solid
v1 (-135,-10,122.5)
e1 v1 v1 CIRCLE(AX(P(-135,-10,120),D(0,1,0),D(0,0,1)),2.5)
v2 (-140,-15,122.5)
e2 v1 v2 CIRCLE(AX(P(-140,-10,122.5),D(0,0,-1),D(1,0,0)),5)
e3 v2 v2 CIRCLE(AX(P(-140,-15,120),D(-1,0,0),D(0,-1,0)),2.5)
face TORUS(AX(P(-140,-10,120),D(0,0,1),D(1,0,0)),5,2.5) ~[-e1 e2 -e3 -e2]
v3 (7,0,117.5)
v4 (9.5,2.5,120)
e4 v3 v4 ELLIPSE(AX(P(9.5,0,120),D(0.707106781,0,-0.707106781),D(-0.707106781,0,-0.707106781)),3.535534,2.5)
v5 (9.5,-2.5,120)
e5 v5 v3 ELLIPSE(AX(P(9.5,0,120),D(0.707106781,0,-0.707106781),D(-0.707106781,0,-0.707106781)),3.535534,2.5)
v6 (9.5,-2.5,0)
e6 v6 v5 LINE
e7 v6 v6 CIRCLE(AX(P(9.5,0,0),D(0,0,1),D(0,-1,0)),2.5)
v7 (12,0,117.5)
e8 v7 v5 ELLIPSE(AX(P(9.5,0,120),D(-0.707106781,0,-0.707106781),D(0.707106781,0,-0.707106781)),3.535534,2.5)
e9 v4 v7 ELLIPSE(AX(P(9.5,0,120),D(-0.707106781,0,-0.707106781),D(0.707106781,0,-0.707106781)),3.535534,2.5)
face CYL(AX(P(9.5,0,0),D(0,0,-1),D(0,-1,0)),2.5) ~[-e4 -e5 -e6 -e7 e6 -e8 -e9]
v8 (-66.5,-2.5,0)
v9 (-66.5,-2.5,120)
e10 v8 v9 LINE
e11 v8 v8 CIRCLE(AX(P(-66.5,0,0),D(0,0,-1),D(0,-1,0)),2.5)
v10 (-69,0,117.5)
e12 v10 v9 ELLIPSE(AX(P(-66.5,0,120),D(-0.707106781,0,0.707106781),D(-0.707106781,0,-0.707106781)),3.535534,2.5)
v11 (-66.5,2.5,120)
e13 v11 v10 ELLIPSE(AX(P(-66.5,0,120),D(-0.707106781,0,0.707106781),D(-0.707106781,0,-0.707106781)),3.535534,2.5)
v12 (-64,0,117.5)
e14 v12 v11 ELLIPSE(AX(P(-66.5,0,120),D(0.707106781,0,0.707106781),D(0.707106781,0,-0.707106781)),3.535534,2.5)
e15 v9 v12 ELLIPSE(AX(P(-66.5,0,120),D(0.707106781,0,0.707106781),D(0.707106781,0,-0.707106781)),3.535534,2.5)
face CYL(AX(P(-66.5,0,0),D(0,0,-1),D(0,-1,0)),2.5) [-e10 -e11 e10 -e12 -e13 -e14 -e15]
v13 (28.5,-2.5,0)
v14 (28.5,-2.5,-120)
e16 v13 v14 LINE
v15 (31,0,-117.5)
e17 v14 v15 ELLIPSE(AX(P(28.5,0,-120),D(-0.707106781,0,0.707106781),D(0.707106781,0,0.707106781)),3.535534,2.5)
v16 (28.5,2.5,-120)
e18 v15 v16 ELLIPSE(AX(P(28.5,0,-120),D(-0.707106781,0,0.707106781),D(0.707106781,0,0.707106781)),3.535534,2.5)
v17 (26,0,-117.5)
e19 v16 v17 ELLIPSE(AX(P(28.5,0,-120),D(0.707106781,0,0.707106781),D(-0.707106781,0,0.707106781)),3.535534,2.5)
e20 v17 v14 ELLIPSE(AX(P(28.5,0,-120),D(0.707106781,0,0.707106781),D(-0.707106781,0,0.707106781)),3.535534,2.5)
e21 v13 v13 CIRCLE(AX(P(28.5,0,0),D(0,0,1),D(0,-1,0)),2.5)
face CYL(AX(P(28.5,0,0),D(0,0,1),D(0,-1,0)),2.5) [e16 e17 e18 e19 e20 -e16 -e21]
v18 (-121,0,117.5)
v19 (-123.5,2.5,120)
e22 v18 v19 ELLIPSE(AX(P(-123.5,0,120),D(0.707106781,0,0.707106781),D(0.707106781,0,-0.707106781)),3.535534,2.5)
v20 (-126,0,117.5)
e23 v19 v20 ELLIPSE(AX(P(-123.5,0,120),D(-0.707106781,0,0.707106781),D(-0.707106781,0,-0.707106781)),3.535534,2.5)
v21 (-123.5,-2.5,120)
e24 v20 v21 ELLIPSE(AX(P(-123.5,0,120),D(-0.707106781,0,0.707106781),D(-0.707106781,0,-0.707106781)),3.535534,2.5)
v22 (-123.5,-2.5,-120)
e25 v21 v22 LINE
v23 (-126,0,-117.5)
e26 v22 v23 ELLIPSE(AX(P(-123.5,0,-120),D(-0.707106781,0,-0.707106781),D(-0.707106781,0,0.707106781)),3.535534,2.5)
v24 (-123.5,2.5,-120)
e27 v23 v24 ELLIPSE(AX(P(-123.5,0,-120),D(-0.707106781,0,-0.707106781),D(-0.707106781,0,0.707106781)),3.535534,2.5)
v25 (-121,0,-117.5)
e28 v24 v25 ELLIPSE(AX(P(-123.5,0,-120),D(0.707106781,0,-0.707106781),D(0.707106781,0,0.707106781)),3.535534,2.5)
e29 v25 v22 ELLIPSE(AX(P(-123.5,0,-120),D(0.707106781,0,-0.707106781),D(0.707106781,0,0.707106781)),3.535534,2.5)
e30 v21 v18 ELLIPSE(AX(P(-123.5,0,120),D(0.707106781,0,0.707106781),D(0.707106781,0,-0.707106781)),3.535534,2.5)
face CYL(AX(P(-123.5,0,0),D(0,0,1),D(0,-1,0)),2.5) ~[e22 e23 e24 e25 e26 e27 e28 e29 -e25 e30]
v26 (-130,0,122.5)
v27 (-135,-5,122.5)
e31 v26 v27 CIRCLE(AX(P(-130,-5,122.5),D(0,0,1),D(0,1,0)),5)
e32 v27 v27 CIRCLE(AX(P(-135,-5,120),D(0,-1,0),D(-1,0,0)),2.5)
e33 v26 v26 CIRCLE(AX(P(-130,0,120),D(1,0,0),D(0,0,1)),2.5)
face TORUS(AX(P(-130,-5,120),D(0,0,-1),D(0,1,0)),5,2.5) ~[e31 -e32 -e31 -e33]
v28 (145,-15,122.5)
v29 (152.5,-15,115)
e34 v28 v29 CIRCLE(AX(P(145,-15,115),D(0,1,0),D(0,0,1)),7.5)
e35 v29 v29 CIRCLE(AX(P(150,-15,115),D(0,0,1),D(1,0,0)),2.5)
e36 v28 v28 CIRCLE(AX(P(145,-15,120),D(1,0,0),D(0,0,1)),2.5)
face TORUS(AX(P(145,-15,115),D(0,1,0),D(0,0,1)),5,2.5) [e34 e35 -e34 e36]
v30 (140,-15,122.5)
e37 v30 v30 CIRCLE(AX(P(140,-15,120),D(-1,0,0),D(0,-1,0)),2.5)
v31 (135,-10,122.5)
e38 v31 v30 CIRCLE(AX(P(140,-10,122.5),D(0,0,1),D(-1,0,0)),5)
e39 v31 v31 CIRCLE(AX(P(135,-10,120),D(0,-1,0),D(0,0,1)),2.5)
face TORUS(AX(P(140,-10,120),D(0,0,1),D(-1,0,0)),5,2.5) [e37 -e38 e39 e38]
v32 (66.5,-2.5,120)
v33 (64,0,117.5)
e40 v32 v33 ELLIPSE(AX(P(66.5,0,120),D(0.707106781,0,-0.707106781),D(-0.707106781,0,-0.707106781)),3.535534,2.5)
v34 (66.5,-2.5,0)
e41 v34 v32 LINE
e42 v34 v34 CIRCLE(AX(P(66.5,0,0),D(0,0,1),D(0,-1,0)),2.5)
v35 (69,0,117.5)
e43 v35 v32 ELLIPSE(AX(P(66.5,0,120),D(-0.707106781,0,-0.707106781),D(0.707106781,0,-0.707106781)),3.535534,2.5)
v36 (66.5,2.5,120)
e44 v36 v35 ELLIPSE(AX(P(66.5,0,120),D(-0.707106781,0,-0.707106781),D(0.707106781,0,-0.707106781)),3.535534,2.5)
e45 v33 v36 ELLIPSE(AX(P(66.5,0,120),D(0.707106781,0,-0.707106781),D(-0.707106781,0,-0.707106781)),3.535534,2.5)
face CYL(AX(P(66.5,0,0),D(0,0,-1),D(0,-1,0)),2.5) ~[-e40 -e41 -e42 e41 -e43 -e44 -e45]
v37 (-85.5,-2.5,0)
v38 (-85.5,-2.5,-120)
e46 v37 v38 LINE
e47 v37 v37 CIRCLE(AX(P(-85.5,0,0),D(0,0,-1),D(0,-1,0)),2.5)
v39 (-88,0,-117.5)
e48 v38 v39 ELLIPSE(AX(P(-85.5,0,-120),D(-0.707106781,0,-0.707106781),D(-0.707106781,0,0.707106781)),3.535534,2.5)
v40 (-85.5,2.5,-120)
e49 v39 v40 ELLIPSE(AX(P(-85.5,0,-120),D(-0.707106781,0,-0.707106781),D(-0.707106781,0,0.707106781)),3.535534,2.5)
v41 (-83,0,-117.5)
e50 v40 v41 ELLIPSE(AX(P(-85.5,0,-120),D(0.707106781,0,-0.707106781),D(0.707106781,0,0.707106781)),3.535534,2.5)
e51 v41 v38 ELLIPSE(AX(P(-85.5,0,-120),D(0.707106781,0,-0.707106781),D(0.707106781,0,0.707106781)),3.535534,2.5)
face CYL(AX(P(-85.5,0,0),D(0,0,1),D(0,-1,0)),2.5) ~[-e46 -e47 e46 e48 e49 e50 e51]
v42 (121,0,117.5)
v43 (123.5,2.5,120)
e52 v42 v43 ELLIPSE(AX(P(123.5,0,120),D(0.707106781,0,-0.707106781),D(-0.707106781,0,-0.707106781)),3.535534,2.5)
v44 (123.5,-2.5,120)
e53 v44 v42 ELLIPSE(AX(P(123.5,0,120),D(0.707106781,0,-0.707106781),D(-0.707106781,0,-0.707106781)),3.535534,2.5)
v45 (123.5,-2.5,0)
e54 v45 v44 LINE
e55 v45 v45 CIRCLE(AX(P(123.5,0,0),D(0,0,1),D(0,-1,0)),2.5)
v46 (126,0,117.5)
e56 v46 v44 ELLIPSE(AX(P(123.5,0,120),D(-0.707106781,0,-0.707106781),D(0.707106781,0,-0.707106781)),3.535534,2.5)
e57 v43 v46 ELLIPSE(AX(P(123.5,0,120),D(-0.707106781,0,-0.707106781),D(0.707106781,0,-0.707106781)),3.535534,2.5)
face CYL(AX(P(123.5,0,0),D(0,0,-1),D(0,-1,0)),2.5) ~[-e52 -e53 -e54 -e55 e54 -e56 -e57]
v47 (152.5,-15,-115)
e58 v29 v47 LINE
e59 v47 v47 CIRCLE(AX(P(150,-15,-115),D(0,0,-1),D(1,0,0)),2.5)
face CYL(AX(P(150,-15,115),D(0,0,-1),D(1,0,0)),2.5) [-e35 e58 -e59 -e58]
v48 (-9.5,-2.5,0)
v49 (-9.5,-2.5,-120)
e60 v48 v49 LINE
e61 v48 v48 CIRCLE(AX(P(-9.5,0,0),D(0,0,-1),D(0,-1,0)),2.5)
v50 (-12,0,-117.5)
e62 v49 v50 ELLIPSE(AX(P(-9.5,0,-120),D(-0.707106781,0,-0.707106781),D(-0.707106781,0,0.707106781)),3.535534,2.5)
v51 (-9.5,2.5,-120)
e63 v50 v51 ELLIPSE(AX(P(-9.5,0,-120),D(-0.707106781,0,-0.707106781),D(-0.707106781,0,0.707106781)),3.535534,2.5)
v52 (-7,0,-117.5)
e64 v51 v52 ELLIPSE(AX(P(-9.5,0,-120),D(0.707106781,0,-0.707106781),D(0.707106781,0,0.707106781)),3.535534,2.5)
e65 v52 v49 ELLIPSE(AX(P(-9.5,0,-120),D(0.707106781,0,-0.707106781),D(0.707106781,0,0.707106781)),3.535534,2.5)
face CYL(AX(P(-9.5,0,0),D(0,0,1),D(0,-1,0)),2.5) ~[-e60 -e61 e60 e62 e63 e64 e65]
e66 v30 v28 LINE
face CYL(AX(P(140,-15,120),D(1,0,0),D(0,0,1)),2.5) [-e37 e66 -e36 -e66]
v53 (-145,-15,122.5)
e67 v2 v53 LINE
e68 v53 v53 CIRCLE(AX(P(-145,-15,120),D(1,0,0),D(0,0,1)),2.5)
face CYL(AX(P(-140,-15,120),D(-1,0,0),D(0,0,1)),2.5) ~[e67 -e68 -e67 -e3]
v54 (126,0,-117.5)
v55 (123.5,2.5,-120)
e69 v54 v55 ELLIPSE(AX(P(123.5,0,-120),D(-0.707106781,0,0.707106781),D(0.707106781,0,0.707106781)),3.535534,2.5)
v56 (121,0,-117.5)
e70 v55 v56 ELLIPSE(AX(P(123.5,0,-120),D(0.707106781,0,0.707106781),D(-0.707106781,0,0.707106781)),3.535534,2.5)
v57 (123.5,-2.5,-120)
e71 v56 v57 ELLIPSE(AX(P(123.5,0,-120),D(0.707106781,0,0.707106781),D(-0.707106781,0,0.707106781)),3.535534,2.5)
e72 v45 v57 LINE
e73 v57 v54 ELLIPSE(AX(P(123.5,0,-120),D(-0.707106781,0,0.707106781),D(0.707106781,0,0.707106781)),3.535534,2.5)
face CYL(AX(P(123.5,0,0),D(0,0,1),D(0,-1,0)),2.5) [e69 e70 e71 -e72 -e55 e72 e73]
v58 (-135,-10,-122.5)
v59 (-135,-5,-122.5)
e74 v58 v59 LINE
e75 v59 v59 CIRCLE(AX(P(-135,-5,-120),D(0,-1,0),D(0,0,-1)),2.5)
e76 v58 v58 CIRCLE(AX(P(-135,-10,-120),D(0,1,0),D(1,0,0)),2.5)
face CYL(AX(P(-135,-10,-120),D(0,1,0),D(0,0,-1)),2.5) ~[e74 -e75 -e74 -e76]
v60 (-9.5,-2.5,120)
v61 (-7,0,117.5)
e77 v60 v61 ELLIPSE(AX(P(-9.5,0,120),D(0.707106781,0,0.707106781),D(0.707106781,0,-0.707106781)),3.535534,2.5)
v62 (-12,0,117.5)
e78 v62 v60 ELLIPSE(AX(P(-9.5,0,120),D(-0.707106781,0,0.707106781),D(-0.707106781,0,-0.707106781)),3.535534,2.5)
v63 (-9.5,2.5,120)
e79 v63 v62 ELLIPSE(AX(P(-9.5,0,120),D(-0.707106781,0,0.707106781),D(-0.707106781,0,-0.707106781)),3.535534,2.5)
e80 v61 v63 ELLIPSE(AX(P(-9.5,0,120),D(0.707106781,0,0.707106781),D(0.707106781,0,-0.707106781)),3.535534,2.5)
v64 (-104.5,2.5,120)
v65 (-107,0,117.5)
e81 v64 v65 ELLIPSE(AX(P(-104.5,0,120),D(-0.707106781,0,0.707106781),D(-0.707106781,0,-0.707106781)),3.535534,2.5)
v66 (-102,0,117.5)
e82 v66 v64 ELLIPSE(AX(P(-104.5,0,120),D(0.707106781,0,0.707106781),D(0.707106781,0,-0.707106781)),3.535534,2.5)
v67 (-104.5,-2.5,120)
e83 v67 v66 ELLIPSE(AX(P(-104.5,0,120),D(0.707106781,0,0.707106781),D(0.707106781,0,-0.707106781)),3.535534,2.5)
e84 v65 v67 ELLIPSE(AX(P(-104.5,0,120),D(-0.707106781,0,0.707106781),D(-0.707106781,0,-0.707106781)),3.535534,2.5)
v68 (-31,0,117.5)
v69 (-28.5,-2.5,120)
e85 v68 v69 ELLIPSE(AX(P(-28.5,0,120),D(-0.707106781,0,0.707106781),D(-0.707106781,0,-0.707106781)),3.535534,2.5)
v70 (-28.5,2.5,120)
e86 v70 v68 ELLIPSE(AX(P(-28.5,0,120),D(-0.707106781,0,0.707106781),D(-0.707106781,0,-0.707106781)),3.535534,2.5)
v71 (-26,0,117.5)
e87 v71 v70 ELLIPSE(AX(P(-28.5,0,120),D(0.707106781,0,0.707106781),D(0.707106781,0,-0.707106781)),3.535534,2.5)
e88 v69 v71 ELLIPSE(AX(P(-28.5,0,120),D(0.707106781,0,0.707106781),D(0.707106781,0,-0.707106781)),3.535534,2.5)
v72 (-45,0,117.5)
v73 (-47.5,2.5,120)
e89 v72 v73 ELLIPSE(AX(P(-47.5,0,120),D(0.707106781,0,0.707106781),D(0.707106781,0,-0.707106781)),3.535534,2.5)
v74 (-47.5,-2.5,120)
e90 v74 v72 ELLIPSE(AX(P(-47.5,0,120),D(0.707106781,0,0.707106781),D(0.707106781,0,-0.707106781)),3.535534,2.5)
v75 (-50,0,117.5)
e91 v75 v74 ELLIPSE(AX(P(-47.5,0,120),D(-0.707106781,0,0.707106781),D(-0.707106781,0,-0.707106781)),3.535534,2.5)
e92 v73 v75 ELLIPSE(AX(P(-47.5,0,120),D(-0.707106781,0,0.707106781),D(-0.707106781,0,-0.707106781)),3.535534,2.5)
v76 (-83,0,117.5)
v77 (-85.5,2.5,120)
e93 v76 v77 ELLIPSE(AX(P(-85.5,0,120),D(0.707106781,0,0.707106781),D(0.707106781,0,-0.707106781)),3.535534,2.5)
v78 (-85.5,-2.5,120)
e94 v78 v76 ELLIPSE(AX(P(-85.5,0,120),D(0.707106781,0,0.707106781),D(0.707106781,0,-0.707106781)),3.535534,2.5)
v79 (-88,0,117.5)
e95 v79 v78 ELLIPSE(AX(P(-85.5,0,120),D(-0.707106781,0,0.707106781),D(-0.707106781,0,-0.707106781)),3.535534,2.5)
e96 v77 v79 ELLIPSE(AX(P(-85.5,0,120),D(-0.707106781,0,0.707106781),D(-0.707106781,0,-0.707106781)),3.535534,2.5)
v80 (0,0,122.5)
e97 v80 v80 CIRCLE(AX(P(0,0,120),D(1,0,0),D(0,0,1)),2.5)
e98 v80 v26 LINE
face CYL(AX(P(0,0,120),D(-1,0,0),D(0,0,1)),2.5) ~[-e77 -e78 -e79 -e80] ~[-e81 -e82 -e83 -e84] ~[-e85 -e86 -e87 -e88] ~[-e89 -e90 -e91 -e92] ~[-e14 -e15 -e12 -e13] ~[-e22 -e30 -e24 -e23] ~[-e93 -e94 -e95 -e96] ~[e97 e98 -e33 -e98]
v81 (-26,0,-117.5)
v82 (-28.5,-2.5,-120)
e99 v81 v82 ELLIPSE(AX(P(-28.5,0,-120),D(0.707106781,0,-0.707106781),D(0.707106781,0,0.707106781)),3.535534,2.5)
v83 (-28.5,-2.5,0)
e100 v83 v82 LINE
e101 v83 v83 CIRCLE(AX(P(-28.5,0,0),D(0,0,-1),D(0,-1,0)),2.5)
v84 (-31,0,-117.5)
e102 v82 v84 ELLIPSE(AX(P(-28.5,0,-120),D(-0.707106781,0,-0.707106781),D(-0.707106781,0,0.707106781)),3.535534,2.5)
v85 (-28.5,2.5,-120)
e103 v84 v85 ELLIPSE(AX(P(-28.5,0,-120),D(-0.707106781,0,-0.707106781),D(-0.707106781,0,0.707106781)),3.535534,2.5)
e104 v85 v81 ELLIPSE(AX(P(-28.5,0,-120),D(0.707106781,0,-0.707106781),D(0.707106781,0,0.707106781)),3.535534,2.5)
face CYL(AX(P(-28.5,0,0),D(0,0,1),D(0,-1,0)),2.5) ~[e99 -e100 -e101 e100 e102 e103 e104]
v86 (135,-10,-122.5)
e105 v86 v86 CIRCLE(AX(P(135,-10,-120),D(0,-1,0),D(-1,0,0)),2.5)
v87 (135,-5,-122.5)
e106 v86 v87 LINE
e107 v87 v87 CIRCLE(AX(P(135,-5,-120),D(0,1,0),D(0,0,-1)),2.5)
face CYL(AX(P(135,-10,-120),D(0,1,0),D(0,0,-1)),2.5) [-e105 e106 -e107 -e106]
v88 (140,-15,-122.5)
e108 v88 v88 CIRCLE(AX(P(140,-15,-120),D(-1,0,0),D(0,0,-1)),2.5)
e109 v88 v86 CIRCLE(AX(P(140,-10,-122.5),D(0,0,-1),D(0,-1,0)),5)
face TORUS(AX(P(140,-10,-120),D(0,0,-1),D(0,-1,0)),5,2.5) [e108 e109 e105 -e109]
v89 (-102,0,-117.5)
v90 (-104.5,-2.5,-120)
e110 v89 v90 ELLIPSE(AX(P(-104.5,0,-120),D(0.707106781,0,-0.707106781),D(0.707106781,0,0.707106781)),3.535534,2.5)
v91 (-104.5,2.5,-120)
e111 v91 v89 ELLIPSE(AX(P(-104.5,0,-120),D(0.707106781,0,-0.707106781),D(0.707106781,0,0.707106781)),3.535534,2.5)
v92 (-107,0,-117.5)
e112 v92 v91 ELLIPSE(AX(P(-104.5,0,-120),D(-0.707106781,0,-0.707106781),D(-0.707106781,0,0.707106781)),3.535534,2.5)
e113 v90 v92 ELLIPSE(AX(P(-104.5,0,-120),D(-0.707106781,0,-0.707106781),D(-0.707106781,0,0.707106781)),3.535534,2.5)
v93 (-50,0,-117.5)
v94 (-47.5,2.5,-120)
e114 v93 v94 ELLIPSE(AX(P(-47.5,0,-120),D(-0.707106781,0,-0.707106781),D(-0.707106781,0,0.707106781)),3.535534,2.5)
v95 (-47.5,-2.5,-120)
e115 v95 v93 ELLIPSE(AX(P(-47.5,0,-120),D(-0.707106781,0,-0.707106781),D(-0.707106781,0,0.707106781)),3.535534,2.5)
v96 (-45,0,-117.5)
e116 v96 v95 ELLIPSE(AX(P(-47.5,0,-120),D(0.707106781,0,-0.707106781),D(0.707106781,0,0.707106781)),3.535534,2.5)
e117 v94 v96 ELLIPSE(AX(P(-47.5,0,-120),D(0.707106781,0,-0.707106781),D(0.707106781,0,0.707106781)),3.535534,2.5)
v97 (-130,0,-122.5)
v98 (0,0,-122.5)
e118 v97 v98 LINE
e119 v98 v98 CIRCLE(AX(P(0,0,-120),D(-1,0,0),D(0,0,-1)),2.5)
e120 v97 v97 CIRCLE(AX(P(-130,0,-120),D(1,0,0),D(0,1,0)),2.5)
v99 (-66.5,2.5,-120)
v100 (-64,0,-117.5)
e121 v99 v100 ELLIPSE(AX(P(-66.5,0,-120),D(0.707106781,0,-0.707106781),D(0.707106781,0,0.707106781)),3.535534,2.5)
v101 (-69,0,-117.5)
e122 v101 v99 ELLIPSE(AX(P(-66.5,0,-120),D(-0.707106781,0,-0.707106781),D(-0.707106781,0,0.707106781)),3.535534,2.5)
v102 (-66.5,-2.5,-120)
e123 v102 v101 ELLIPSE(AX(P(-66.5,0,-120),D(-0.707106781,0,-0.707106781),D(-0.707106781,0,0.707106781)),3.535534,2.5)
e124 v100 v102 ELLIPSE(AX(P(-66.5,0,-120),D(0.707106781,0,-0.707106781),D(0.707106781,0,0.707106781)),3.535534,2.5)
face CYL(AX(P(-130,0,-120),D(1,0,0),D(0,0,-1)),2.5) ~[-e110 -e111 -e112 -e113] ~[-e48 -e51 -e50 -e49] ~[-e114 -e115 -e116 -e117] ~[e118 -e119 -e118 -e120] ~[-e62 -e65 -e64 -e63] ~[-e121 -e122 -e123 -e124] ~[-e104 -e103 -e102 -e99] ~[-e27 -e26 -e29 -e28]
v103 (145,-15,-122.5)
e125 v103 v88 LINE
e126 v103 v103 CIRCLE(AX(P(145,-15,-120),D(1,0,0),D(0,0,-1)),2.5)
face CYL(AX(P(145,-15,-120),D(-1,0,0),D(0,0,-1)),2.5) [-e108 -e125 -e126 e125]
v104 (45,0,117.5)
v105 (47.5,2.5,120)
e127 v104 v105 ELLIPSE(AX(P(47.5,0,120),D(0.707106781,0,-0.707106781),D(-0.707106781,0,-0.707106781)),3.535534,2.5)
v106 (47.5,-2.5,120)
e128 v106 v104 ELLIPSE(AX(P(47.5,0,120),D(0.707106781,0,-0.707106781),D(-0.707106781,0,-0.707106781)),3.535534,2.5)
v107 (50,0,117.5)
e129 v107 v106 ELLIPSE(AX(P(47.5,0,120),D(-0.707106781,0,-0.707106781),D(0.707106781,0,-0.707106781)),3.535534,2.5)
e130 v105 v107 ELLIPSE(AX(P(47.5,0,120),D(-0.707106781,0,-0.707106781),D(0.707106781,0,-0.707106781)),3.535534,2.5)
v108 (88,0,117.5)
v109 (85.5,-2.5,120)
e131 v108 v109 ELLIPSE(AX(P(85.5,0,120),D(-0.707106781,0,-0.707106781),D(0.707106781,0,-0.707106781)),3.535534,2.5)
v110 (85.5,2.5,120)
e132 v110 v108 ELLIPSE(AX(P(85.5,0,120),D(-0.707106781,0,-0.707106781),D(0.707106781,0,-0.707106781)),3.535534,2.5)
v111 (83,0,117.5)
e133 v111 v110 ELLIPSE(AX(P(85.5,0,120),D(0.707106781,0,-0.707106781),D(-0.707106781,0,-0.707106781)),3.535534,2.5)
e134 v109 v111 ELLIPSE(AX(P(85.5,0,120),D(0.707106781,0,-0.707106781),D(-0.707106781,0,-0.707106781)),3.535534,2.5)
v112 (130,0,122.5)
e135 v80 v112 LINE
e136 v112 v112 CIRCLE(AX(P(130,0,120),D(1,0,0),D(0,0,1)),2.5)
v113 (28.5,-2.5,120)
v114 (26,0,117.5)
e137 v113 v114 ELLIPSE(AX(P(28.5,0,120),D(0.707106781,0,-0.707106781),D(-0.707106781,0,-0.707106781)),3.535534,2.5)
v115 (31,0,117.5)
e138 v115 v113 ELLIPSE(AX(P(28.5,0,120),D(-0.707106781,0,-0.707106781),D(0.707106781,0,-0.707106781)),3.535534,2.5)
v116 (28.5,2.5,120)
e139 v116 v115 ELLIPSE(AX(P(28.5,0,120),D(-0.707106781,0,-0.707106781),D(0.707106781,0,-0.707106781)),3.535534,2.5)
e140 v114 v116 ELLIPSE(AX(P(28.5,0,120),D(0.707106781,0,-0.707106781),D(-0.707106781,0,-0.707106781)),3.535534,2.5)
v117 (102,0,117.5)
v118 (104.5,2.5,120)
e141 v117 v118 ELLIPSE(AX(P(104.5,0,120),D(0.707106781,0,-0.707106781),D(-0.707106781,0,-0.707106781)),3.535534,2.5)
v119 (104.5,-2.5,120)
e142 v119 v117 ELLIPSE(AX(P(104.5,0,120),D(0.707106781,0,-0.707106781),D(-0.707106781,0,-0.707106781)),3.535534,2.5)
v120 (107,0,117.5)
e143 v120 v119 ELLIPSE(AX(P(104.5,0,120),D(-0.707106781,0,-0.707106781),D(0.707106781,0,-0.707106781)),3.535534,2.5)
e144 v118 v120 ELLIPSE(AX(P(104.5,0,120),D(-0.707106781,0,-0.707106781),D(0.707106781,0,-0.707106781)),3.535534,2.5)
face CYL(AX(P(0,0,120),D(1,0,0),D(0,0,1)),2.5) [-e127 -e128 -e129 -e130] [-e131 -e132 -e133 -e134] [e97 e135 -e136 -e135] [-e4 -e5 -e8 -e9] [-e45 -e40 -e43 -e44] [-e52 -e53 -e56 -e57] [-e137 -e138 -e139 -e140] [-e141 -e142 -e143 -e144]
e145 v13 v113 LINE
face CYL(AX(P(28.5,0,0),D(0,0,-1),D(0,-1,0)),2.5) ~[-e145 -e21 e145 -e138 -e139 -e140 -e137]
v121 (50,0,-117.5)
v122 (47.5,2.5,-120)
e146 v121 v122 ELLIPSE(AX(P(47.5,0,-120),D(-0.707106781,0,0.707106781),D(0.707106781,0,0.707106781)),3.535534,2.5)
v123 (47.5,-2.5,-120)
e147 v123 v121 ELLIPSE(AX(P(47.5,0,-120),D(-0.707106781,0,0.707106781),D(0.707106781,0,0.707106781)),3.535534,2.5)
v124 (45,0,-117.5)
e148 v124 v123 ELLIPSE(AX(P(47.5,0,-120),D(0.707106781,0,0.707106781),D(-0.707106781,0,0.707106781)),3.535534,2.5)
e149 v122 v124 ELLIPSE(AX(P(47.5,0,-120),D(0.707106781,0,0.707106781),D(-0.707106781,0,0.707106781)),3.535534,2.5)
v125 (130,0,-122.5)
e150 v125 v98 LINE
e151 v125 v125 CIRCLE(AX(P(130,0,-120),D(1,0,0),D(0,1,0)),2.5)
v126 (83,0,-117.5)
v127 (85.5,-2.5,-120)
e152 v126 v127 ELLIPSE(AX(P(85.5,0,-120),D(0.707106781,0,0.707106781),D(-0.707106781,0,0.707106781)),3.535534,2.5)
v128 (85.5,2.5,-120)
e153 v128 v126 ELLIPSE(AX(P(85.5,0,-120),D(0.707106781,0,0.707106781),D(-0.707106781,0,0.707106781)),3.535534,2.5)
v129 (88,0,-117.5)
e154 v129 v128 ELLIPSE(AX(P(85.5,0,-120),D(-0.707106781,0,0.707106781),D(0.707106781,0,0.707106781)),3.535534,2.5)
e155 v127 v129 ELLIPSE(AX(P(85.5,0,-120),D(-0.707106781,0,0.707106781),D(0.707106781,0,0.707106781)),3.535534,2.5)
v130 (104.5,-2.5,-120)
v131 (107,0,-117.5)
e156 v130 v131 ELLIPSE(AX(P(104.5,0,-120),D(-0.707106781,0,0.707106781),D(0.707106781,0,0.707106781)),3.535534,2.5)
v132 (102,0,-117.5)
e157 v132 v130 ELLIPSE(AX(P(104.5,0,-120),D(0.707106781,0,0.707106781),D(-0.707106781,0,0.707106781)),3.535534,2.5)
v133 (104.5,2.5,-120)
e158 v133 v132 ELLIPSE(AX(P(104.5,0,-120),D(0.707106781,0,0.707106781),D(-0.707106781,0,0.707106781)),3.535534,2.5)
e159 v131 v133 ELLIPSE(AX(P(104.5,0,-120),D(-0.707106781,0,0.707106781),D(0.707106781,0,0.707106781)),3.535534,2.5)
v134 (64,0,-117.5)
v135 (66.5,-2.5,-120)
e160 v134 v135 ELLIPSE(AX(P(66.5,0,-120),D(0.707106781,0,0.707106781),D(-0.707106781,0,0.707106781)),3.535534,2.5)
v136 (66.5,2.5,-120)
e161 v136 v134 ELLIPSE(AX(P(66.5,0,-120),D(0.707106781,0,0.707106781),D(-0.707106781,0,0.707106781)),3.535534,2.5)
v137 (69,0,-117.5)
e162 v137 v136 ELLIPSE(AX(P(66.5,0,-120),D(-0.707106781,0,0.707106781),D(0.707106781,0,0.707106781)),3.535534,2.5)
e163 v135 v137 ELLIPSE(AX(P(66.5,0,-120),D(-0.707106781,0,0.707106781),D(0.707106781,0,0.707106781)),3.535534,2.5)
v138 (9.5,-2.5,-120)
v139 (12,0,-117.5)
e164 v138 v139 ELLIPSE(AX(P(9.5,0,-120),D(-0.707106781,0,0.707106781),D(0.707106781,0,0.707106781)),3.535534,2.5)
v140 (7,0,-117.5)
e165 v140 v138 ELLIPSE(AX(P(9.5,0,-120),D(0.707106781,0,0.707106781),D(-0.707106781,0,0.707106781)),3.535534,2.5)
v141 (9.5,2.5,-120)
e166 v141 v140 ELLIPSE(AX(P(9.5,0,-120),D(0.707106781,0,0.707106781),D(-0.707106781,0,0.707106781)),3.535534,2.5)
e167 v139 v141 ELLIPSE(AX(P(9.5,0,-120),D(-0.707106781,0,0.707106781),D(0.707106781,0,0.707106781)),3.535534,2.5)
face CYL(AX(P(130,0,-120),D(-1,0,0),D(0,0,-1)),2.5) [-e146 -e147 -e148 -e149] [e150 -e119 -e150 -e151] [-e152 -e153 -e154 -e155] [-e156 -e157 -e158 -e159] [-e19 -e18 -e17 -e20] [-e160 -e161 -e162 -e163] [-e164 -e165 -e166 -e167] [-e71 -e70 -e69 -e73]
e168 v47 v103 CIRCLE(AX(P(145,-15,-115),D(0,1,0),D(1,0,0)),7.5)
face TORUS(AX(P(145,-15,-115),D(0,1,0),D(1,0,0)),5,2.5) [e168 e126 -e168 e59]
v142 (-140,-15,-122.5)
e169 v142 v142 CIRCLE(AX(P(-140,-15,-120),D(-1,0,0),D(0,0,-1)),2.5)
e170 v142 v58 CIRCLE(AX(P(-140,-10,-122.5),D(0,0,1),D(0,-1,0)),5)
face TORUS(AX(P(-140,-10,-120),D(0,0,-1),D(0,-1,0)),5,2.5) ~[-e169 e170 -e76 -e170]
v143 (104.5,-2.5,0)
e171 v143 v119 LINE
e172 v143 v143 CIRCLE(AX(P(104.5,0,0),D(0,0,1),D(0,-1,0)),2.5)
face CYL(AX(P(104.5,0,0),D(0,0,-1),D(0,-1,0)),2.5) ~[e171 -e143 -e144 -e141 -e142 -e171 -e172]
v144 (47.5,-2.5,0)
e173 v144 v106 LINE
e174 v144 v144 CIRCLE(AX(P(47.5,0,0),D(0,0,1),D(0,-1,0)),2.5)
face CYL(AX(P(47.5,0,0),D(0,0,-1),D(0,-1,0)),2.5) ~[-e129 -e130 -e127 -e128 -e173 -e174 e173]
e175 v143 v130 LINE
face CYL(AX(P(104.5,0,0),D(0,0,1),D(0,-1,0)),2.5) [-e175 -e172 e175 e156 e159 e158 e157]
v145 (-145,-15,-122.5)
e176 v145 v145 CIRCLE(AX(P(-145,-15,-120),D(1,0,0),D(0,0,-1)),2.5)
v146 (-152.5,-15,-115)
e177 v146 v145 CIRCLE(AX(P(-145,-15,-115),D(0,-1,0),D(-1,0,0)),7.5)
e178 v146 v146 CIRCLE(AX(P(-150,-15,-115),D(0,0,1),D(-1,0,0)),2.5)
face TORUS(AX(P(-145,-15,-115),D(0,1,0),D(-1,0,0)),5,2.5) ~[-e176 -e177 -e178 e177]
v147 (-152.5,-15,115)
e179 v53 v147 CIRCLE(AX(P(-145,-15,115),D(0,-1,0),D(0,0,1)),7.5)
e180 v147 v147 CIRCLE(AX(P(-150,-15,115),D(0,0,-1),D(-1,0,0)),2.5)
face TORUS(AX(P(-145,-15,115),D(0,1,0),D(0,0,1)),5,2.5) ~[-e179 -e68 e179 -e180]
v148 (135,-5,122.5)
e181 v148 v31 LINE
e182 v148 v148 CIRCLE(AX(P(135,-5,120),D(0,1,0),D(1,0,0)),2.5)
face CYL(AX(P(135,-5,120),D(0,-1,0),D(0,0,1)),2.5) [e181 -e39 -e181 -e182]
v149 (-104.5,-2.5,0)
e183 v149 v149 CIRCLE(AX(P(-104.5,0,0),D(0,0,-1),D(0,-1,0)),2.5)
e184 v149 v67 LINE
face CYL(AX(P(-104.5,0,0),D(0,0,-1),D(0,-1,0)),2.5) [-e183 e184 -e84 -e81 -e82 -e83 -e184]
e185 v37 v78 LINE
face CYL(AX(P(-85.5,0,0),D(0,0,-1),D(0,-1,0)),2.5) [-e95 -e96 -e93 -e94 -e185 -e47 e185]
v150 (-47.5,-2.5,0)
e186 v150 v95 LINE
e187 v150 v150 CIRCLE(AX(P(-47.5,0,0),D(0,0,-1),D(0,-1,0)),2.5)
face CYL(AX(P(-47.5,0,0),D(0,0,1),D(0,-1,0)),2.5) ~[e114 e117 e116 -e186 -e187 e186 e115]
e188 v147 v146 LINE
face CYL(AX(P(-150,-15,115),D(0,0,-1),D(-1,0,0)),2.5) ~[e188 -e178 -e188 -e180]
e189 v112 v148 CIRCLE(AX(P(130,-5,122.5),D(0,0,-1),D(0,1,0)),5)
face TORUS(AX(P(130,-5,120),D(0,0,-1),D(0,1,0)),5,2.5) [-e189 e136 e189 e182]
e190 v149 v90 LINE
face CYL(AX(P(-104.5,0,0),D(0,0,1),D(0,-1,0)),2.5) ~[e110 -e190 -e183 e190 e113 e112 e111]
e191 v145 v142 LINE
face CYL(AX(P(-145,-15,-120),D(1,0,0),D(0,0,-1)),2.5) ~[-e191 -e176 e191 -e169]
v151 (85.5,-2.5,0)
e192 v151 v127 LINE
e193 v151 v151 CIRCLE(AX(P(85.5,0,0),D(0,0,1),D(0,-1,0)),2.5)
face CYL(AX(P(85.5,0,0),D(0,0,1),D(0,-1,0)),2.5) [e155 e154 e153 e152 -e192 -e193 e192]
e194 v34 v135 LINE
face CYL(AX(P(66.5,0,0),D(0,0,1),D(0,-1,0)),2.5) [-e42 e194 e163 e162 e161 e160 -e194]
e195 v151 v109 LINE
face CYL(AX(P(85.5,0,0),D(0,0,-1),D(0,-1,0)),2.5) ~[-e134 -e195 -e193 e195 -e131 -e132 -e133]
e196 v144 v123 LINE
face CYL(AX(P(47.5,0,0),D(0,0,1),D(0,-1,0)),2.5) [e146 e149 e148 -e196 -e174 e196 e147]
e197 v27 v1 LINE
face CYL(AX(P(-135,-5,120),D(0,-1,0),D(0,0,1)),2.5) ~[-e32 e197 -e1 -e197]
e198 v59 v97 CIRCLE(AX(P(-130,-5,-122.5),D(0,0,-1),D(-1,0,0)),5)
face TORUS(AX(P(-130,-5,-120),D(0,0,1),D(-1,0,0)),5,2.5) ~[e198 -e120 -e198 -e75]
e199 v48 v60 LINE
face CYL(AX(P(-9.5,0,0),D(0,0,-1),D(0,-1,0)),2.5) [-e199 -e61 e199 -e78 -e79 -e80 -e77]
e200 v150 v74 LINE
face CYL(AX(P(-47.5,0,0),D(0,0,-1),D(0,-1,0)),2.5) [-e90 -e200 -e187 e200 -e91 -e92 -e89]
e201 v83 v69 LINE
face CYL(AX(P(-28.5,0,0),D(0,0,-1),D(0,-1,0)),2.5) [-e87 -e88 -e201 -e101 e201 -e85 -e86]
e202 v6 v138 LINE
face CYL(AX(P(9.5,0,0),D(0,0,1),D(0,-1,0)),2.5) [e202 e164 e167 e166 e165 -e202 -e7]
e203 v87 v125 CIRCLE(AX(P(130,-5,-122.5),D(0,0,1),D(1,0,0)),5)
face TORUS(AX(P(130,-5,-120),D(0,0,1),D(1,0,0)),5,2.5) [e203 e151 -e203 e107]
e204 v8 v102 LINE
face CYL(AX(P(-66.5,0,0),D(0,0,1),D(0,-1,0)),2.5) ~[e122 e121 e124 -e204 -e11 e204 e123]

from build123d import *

# Parameters (mm, degrees)
SWEEP1_PROFILE_R                     = 2.5
BOSS_EXTRUDE1_REACH                  = 198.389
BOSS_EXTRUDE1_END_RADIUS             = 2.5
SKETCH14_R                           = 2.5
BOSS_EXTRUDE1_DIRECTION_2_REACH      = 198.389
BOSS_EXTRUDE1_DIRECTION_2_END_RADIUS = 2.5


with BuildPart() as part:
    # Sweep1: sweep along a curve in space
    with BuildLine() as sweep1_path:
        Line((0, 0, 120), (130, 0, 120))
        ThreePointArc((130, 0, 120), (133.535533906, -1.464466094, 120), (135, -5, 120))
        Line((135, -5, 120), (135, -10, 120))
        ThreePointArc((135, -10, 120), (136.464466094, -13.535533906, 120), (140, -15, 120))
        Line((140, -15, 120), (145, -15, 120))
        ThreePointArc((145, -15, 120), (148.535533906, -15, 118.535533906), (150, -15, 115))
        Line((150, -15, 115), (150, -15, -115))
        ThreePointArc((150, -15, -115), (148.535533906, -15, -118.535533906), (145, -15, -120))
        Line((145, -15, -120), (140, -15, -120))
        ThreePointArc((140, -15, -120), (136.464466094, -13.535533906, -120), (135, -10, -120))
        Line((135, -10, -120), (135, -5, -120))
        ThreePointArc((135, -5, -120), (133.535533906, -1.464466094, -120), (130, 0, -120))
        Line((130, 0, -120), (0, 0, -120))
    # Sweep1 profile (on start of the path) → Sweep1 (sweep)
    with BuildSketch(Plane(origin=(0, 0, 120), x_dir=(0, 0, 1), z_dir=(1, 0, 0))):
        Circle(SWEEP1_PROFILE_R)
    sweep(path=sweep1_path.line)

    # Boss-Extrude1: up to this cylinder (the profile starts outside it)
    boss_extrude1_end = Plane(origin=(66.5, 0, 120), z_dir=(1, 0, 0)) * Cylinder(BOSS_EXTRUDE1_END_RADIUS, 516.778, mode=Mode.PRIVATE)
    # Sketch14 → Boss-Extrude1 (add, up to the surface)
    with BuildSketch(Plane.XY, mode=Mode.PRIVATE) as boss_extrude1_sk1:
        with Locations(Location((9.5, 0, 0), (0, 0, 270))):
            Circle(SKETCH14_R)
    boss_extrude1_tool1 = extrude(boss_extrude1_sk1.sketch, amount=BOSS_EXTRUDE1_REACH, mode=Mode.PRIVATE) - boss_extrude1_end
    add(boss_extrude1_tool1.solids().sort_by_distance((9.5, 0, 0))[0])
    # Sketch14 → Boss-Extrude1 (add, up to the surface)
    with BuildSketch(Plane.XY, mode=Mode.PRIVATE) as boss_extrude1_sk2:
        with Locations(Location((28.5, 0, 0), (0, 0, 270))):
            Circle(SKETCH14_R)
    boss_extrude1_tool2 = extrude(boss_extrude1_sk2.sketch, amount=BOSS_EXTRUDE1_REACH, mode=Mode.PRIVATE) - boss_extrude1_end
    add(boss_extrude1_tool2.solids().sort_by_distance((28.5, 0, 0))[0])
    # Sketch14 → Boss-Extrude1 (add, up to the surface)
    with BuildSketch(Plane.XY, mode=Mode.PRIVATE) as boss_extrude1_sk3:
        with Locations(Location((47.5, 0, 0), (0, 0, 270))):
            Circle(SKETCH14_R)
    boss_extrude1_tool3 = extrude(boss_extrude1_sk3.sketch, amount=BOSS_EXTRUDE1_REACH, mode=Mode.PRIVATE) - boss_extrude1_end
    add(boss_extrude1_tool3.solids().sort_by_distance((47.5, 0, 0))[0])
    # Sketch14 → Boss-Extrude1 (add, up to the surface)
    with BuildSketch(Plane.XY, mode=Mode.PRIVATE) as boss_extrude1_sk4:
        with Locations(Location((66.5, 0, 0), (0, 0, 270))):
            Circle(SKETCH14_R)
    boss_extrude1_tool4 = extrude(boss_extrude1_sk4.sketch, amount=BOSS_EXTRUDE1_REACH, mode=Mode.PRIVATE) - boss_extrude1_end
    add(boss_extrude1_tool4.solids().sort_by_distance((66.5, 0, 0))[0])
    # Sketch14 → Boss-Extrude1 (add, up to the surface)
    with BuildSketch(Plane.XY, mode=Mode.PRIVATE) as boss_extrude1_sk5:
        with Locations(Location((85.5, 0, 0), (0, 0, 270))):
            Circle(SKETCH14_R)
    boss_extrude1_tool5 = extrude(boss_extrude1_sk5.sketch, amount=BOSS_EXTRUDE1_REACH, mode=Mode.PRIVATE) - boss_extrude1_end
    add(boss_extrude1_tool5.solids().sort_by_distance((85.5, 0, 0))[0])
    # Sketch14 → Boss-Extrude1 (add, up to the surface)
    with BuildSketch(Plane.XY, mode=Mode.PRIVATE) as boss_extrude1_sk6:
        with Locations(Location((104.5, 0, 0), (0, 0, 270))):
            Circle(SKETCH14_R)
    boss_extrude1_tool6 = extrude(boss_extrude1_sk6.sketch, amount=BOSS_EXTRUDE1_REACH, mode=Mode.PRIVATE) - boss_extrude1_end
    add(boss_extrude1_tool6.solids().sort_by_distance((104.5, 0, 0))[0])
    # Sketch14 → Boss-Extrude1 (add, up to the surface)
    with BuildSketch(Plane.XY, mode=Mode.PRIVATE) as boss_extrude1_sk7:
        with Locations(Location((123.5, 0, 0), (0, 0, 270))):
            Circle(SKETCH14_R)
    boss_extrude1_tool7 = extrude(boss_extrude1_sk7.sketch, amount=BOSS_EXTRUDE1_REACH, mode=Mode.PRIVATE) - boss_extrude1_end
    add(boss_extrude1_tool7.solids().sort_by_distance((123.5, 0, 0))[0])

    # Boss-Extrude1 direction 2: up to this cylinder (the profile starts outside it)
    boss_extrude1_direction_2_end = Plane(origin=(66.5, 0, -120), z_dir=(-1, 0, 0)) * Cylinder(BOSS_EXTRUDE1_DIRECTION_2_END_RADIUS, 516.778, mode=Mode.PRIVATE)
    # Sketch14 → Boss-Extrude1 direction 2 (add, up to the surface)
    with BuildSketch(Plane.XY, mode=Mode.PRIVATE) as boss_extrude1_direction_2_sk1:
        with Locations(Location((9.5, 0, 0), (0, 0, 270))):
            Circle(SKETCH14_R)
    boss_extrude1_direction_2_tool1 = extrude(boss_extrude1_direction_2_sk1.sketch, amount=-BOSS_EXTRUDE1_DIRECTION_2_REACH, mode=Mode.PRIVATE) - boss_extrude1_direction_2_end
    add(boss_extrude1_direction_2_tool1.solids().sort_by_distance((9.5, 0, 0))[0])
    # Sketch14 → Boss-Extrude1 direction 2 (add, up to the surface)
    with BuildSketch(Plane.XY, mode=Mode.PRIVATE) as boss_extrude1_direction_2_sk2:
        with Locations(Location((28.5, 0, 0), (0, 0, 270))):
            Circle(SKETCH14_R)
    boss_extrude1_direction_2_tool2 = extrude(boss_extrude1_direction_2_sk2.sketch, amount=-BOSS_EXTRUDE1_DIRECTION_2_REACH, mode=Mode.PRIVATE) - boss_extrude1_direction_2_end
    add(boss_extrude1_direction_2_tool2.solids().sort_by_distance((28.5, 0, 0))[0])
    # Sketch14 → Boss-Extrude1 direction 2 (add, up to the surface)
    with BuildSketch(Plane.XY, mode=Mode.PRIVATE) as boss_extrude1_direction_2_sk3:
        with Locations(Location((47.5, 0, 0), (0, 0, 270))):
            Circle(SKETCH14_R)
    boss_extrude1_direction_2_tool3 = extrude(boss_extrude1_direction_2_sk3.sketch, amount=-BOSS_EXTRUDE1_DIRECTION_2_REACH, mode=Mode.PRIVATE) - boss_extrude1_direction_2_end
    add(boss_extrude1_direction_2_tool3.solids().sort_by_distance((47.5, 0, 0))[0])
    # Sketch14 → Boss-Extrude1 direction 2 (add, up to the surface)
    with BuildSketch(Plane.XY, mode=Mode.PRIVATE) as boss_extrude1_direction_2_sk4:
        with Locations(Location((66.5, 0, 0), (0, 0, 270))):
            Circle(SKETCH14_R)
    boss_extrude1_direction_2_tool4 = extrude(boss_extrude1_direction_2_sk4.sketch, amount=-BOSS_EXTRUDE1_DIRECTION_2_REACH, mode=Mode.PRIVATE) - boss_extrude1_direction_2_end
    add(boss_extrude1_direction_2_tool4.solids().sort_by_distance((66.5, 0, 0))[0])
    # Sketch14 → Boss-Extrude1 direction 2 (add, up to the surface)
    with BuildSketch(Plane.XY, mode=Mode.PRIVATE) as boss_extrude1_direction_2_sk5:
        with Locations(Location((85.5, 0, 0), (0, 0, 270))):
            Circle(SKETCH14_R)
    boss_extrude1_direction_2_tool5 = extrude(boss_extrude1_direction_2_sk5.sketch, amount=-BOSS_EXTRUDE1_DIRECTION_2_REACH, mode=Mode.PRIVATE) - boss_extrude1_direction_2_end
    add(boss_extrude1_direction_2_tool5.solids().sort_by_distance((85.5, 0, 0))[0])
    # Sketch14 → Boss-Extrude1 direction 2 (add, up to the surface)
    with BuildSketch(Plane.XY, mode=Mode.PRIVATE) as boss_extrude1_direction_2_sk6:
        with Locations(Location((104.5, 0, 0), (0, 0, 270))):
            Circle(SKETCH14_R)
    boss_extrude1_direction_2_tool6 = extrude(boss_extrude1_direction_2_sk6.sketch, amount=-BOSS_EXTRUDE1_DIRECTION_2_REACH, mode=Mode.PRIVATE) - boss_extrude1_direction_2_end
    add(boss_extrude1_direction_2_tool6.solids().sort_by_distance((104.5, 0, 0))[0])
    # Sketch14 → Boss-Extrude1 direction 2 (add, up to the surface)
    with BuildSketch(Plane.XY, mode=Mode.PRIVATE) as boss_extrude1_direction_2_sk7:
        with Locations(Location((123.5, 0, 0), (0, 0, 270))):
            Circle(SKETCH14_R)
    boss_extrude1_direction_2_tool7 = extrude(boss_extrude1_direction_2_sk7.sketch, amount=-BOSS_EXTRUDE1_DIRECTION_2_REACH, mode=Mode.PRIVATE) - boss_extrude1_direction_2_end
    add(boss_extrude1_direction_2_tool7.solids().sort_by_distance((123.5, 0, 0))[0])

    # Mirror1: part across plane


with BuildPart() as part_1:
    add(part.part)
    add(part.part.mirror(Plane(origin=(0, 0, 0), x_dir=(0, 0, 1), z_dir=(1, 0, 0))))


solid = part_1.part
